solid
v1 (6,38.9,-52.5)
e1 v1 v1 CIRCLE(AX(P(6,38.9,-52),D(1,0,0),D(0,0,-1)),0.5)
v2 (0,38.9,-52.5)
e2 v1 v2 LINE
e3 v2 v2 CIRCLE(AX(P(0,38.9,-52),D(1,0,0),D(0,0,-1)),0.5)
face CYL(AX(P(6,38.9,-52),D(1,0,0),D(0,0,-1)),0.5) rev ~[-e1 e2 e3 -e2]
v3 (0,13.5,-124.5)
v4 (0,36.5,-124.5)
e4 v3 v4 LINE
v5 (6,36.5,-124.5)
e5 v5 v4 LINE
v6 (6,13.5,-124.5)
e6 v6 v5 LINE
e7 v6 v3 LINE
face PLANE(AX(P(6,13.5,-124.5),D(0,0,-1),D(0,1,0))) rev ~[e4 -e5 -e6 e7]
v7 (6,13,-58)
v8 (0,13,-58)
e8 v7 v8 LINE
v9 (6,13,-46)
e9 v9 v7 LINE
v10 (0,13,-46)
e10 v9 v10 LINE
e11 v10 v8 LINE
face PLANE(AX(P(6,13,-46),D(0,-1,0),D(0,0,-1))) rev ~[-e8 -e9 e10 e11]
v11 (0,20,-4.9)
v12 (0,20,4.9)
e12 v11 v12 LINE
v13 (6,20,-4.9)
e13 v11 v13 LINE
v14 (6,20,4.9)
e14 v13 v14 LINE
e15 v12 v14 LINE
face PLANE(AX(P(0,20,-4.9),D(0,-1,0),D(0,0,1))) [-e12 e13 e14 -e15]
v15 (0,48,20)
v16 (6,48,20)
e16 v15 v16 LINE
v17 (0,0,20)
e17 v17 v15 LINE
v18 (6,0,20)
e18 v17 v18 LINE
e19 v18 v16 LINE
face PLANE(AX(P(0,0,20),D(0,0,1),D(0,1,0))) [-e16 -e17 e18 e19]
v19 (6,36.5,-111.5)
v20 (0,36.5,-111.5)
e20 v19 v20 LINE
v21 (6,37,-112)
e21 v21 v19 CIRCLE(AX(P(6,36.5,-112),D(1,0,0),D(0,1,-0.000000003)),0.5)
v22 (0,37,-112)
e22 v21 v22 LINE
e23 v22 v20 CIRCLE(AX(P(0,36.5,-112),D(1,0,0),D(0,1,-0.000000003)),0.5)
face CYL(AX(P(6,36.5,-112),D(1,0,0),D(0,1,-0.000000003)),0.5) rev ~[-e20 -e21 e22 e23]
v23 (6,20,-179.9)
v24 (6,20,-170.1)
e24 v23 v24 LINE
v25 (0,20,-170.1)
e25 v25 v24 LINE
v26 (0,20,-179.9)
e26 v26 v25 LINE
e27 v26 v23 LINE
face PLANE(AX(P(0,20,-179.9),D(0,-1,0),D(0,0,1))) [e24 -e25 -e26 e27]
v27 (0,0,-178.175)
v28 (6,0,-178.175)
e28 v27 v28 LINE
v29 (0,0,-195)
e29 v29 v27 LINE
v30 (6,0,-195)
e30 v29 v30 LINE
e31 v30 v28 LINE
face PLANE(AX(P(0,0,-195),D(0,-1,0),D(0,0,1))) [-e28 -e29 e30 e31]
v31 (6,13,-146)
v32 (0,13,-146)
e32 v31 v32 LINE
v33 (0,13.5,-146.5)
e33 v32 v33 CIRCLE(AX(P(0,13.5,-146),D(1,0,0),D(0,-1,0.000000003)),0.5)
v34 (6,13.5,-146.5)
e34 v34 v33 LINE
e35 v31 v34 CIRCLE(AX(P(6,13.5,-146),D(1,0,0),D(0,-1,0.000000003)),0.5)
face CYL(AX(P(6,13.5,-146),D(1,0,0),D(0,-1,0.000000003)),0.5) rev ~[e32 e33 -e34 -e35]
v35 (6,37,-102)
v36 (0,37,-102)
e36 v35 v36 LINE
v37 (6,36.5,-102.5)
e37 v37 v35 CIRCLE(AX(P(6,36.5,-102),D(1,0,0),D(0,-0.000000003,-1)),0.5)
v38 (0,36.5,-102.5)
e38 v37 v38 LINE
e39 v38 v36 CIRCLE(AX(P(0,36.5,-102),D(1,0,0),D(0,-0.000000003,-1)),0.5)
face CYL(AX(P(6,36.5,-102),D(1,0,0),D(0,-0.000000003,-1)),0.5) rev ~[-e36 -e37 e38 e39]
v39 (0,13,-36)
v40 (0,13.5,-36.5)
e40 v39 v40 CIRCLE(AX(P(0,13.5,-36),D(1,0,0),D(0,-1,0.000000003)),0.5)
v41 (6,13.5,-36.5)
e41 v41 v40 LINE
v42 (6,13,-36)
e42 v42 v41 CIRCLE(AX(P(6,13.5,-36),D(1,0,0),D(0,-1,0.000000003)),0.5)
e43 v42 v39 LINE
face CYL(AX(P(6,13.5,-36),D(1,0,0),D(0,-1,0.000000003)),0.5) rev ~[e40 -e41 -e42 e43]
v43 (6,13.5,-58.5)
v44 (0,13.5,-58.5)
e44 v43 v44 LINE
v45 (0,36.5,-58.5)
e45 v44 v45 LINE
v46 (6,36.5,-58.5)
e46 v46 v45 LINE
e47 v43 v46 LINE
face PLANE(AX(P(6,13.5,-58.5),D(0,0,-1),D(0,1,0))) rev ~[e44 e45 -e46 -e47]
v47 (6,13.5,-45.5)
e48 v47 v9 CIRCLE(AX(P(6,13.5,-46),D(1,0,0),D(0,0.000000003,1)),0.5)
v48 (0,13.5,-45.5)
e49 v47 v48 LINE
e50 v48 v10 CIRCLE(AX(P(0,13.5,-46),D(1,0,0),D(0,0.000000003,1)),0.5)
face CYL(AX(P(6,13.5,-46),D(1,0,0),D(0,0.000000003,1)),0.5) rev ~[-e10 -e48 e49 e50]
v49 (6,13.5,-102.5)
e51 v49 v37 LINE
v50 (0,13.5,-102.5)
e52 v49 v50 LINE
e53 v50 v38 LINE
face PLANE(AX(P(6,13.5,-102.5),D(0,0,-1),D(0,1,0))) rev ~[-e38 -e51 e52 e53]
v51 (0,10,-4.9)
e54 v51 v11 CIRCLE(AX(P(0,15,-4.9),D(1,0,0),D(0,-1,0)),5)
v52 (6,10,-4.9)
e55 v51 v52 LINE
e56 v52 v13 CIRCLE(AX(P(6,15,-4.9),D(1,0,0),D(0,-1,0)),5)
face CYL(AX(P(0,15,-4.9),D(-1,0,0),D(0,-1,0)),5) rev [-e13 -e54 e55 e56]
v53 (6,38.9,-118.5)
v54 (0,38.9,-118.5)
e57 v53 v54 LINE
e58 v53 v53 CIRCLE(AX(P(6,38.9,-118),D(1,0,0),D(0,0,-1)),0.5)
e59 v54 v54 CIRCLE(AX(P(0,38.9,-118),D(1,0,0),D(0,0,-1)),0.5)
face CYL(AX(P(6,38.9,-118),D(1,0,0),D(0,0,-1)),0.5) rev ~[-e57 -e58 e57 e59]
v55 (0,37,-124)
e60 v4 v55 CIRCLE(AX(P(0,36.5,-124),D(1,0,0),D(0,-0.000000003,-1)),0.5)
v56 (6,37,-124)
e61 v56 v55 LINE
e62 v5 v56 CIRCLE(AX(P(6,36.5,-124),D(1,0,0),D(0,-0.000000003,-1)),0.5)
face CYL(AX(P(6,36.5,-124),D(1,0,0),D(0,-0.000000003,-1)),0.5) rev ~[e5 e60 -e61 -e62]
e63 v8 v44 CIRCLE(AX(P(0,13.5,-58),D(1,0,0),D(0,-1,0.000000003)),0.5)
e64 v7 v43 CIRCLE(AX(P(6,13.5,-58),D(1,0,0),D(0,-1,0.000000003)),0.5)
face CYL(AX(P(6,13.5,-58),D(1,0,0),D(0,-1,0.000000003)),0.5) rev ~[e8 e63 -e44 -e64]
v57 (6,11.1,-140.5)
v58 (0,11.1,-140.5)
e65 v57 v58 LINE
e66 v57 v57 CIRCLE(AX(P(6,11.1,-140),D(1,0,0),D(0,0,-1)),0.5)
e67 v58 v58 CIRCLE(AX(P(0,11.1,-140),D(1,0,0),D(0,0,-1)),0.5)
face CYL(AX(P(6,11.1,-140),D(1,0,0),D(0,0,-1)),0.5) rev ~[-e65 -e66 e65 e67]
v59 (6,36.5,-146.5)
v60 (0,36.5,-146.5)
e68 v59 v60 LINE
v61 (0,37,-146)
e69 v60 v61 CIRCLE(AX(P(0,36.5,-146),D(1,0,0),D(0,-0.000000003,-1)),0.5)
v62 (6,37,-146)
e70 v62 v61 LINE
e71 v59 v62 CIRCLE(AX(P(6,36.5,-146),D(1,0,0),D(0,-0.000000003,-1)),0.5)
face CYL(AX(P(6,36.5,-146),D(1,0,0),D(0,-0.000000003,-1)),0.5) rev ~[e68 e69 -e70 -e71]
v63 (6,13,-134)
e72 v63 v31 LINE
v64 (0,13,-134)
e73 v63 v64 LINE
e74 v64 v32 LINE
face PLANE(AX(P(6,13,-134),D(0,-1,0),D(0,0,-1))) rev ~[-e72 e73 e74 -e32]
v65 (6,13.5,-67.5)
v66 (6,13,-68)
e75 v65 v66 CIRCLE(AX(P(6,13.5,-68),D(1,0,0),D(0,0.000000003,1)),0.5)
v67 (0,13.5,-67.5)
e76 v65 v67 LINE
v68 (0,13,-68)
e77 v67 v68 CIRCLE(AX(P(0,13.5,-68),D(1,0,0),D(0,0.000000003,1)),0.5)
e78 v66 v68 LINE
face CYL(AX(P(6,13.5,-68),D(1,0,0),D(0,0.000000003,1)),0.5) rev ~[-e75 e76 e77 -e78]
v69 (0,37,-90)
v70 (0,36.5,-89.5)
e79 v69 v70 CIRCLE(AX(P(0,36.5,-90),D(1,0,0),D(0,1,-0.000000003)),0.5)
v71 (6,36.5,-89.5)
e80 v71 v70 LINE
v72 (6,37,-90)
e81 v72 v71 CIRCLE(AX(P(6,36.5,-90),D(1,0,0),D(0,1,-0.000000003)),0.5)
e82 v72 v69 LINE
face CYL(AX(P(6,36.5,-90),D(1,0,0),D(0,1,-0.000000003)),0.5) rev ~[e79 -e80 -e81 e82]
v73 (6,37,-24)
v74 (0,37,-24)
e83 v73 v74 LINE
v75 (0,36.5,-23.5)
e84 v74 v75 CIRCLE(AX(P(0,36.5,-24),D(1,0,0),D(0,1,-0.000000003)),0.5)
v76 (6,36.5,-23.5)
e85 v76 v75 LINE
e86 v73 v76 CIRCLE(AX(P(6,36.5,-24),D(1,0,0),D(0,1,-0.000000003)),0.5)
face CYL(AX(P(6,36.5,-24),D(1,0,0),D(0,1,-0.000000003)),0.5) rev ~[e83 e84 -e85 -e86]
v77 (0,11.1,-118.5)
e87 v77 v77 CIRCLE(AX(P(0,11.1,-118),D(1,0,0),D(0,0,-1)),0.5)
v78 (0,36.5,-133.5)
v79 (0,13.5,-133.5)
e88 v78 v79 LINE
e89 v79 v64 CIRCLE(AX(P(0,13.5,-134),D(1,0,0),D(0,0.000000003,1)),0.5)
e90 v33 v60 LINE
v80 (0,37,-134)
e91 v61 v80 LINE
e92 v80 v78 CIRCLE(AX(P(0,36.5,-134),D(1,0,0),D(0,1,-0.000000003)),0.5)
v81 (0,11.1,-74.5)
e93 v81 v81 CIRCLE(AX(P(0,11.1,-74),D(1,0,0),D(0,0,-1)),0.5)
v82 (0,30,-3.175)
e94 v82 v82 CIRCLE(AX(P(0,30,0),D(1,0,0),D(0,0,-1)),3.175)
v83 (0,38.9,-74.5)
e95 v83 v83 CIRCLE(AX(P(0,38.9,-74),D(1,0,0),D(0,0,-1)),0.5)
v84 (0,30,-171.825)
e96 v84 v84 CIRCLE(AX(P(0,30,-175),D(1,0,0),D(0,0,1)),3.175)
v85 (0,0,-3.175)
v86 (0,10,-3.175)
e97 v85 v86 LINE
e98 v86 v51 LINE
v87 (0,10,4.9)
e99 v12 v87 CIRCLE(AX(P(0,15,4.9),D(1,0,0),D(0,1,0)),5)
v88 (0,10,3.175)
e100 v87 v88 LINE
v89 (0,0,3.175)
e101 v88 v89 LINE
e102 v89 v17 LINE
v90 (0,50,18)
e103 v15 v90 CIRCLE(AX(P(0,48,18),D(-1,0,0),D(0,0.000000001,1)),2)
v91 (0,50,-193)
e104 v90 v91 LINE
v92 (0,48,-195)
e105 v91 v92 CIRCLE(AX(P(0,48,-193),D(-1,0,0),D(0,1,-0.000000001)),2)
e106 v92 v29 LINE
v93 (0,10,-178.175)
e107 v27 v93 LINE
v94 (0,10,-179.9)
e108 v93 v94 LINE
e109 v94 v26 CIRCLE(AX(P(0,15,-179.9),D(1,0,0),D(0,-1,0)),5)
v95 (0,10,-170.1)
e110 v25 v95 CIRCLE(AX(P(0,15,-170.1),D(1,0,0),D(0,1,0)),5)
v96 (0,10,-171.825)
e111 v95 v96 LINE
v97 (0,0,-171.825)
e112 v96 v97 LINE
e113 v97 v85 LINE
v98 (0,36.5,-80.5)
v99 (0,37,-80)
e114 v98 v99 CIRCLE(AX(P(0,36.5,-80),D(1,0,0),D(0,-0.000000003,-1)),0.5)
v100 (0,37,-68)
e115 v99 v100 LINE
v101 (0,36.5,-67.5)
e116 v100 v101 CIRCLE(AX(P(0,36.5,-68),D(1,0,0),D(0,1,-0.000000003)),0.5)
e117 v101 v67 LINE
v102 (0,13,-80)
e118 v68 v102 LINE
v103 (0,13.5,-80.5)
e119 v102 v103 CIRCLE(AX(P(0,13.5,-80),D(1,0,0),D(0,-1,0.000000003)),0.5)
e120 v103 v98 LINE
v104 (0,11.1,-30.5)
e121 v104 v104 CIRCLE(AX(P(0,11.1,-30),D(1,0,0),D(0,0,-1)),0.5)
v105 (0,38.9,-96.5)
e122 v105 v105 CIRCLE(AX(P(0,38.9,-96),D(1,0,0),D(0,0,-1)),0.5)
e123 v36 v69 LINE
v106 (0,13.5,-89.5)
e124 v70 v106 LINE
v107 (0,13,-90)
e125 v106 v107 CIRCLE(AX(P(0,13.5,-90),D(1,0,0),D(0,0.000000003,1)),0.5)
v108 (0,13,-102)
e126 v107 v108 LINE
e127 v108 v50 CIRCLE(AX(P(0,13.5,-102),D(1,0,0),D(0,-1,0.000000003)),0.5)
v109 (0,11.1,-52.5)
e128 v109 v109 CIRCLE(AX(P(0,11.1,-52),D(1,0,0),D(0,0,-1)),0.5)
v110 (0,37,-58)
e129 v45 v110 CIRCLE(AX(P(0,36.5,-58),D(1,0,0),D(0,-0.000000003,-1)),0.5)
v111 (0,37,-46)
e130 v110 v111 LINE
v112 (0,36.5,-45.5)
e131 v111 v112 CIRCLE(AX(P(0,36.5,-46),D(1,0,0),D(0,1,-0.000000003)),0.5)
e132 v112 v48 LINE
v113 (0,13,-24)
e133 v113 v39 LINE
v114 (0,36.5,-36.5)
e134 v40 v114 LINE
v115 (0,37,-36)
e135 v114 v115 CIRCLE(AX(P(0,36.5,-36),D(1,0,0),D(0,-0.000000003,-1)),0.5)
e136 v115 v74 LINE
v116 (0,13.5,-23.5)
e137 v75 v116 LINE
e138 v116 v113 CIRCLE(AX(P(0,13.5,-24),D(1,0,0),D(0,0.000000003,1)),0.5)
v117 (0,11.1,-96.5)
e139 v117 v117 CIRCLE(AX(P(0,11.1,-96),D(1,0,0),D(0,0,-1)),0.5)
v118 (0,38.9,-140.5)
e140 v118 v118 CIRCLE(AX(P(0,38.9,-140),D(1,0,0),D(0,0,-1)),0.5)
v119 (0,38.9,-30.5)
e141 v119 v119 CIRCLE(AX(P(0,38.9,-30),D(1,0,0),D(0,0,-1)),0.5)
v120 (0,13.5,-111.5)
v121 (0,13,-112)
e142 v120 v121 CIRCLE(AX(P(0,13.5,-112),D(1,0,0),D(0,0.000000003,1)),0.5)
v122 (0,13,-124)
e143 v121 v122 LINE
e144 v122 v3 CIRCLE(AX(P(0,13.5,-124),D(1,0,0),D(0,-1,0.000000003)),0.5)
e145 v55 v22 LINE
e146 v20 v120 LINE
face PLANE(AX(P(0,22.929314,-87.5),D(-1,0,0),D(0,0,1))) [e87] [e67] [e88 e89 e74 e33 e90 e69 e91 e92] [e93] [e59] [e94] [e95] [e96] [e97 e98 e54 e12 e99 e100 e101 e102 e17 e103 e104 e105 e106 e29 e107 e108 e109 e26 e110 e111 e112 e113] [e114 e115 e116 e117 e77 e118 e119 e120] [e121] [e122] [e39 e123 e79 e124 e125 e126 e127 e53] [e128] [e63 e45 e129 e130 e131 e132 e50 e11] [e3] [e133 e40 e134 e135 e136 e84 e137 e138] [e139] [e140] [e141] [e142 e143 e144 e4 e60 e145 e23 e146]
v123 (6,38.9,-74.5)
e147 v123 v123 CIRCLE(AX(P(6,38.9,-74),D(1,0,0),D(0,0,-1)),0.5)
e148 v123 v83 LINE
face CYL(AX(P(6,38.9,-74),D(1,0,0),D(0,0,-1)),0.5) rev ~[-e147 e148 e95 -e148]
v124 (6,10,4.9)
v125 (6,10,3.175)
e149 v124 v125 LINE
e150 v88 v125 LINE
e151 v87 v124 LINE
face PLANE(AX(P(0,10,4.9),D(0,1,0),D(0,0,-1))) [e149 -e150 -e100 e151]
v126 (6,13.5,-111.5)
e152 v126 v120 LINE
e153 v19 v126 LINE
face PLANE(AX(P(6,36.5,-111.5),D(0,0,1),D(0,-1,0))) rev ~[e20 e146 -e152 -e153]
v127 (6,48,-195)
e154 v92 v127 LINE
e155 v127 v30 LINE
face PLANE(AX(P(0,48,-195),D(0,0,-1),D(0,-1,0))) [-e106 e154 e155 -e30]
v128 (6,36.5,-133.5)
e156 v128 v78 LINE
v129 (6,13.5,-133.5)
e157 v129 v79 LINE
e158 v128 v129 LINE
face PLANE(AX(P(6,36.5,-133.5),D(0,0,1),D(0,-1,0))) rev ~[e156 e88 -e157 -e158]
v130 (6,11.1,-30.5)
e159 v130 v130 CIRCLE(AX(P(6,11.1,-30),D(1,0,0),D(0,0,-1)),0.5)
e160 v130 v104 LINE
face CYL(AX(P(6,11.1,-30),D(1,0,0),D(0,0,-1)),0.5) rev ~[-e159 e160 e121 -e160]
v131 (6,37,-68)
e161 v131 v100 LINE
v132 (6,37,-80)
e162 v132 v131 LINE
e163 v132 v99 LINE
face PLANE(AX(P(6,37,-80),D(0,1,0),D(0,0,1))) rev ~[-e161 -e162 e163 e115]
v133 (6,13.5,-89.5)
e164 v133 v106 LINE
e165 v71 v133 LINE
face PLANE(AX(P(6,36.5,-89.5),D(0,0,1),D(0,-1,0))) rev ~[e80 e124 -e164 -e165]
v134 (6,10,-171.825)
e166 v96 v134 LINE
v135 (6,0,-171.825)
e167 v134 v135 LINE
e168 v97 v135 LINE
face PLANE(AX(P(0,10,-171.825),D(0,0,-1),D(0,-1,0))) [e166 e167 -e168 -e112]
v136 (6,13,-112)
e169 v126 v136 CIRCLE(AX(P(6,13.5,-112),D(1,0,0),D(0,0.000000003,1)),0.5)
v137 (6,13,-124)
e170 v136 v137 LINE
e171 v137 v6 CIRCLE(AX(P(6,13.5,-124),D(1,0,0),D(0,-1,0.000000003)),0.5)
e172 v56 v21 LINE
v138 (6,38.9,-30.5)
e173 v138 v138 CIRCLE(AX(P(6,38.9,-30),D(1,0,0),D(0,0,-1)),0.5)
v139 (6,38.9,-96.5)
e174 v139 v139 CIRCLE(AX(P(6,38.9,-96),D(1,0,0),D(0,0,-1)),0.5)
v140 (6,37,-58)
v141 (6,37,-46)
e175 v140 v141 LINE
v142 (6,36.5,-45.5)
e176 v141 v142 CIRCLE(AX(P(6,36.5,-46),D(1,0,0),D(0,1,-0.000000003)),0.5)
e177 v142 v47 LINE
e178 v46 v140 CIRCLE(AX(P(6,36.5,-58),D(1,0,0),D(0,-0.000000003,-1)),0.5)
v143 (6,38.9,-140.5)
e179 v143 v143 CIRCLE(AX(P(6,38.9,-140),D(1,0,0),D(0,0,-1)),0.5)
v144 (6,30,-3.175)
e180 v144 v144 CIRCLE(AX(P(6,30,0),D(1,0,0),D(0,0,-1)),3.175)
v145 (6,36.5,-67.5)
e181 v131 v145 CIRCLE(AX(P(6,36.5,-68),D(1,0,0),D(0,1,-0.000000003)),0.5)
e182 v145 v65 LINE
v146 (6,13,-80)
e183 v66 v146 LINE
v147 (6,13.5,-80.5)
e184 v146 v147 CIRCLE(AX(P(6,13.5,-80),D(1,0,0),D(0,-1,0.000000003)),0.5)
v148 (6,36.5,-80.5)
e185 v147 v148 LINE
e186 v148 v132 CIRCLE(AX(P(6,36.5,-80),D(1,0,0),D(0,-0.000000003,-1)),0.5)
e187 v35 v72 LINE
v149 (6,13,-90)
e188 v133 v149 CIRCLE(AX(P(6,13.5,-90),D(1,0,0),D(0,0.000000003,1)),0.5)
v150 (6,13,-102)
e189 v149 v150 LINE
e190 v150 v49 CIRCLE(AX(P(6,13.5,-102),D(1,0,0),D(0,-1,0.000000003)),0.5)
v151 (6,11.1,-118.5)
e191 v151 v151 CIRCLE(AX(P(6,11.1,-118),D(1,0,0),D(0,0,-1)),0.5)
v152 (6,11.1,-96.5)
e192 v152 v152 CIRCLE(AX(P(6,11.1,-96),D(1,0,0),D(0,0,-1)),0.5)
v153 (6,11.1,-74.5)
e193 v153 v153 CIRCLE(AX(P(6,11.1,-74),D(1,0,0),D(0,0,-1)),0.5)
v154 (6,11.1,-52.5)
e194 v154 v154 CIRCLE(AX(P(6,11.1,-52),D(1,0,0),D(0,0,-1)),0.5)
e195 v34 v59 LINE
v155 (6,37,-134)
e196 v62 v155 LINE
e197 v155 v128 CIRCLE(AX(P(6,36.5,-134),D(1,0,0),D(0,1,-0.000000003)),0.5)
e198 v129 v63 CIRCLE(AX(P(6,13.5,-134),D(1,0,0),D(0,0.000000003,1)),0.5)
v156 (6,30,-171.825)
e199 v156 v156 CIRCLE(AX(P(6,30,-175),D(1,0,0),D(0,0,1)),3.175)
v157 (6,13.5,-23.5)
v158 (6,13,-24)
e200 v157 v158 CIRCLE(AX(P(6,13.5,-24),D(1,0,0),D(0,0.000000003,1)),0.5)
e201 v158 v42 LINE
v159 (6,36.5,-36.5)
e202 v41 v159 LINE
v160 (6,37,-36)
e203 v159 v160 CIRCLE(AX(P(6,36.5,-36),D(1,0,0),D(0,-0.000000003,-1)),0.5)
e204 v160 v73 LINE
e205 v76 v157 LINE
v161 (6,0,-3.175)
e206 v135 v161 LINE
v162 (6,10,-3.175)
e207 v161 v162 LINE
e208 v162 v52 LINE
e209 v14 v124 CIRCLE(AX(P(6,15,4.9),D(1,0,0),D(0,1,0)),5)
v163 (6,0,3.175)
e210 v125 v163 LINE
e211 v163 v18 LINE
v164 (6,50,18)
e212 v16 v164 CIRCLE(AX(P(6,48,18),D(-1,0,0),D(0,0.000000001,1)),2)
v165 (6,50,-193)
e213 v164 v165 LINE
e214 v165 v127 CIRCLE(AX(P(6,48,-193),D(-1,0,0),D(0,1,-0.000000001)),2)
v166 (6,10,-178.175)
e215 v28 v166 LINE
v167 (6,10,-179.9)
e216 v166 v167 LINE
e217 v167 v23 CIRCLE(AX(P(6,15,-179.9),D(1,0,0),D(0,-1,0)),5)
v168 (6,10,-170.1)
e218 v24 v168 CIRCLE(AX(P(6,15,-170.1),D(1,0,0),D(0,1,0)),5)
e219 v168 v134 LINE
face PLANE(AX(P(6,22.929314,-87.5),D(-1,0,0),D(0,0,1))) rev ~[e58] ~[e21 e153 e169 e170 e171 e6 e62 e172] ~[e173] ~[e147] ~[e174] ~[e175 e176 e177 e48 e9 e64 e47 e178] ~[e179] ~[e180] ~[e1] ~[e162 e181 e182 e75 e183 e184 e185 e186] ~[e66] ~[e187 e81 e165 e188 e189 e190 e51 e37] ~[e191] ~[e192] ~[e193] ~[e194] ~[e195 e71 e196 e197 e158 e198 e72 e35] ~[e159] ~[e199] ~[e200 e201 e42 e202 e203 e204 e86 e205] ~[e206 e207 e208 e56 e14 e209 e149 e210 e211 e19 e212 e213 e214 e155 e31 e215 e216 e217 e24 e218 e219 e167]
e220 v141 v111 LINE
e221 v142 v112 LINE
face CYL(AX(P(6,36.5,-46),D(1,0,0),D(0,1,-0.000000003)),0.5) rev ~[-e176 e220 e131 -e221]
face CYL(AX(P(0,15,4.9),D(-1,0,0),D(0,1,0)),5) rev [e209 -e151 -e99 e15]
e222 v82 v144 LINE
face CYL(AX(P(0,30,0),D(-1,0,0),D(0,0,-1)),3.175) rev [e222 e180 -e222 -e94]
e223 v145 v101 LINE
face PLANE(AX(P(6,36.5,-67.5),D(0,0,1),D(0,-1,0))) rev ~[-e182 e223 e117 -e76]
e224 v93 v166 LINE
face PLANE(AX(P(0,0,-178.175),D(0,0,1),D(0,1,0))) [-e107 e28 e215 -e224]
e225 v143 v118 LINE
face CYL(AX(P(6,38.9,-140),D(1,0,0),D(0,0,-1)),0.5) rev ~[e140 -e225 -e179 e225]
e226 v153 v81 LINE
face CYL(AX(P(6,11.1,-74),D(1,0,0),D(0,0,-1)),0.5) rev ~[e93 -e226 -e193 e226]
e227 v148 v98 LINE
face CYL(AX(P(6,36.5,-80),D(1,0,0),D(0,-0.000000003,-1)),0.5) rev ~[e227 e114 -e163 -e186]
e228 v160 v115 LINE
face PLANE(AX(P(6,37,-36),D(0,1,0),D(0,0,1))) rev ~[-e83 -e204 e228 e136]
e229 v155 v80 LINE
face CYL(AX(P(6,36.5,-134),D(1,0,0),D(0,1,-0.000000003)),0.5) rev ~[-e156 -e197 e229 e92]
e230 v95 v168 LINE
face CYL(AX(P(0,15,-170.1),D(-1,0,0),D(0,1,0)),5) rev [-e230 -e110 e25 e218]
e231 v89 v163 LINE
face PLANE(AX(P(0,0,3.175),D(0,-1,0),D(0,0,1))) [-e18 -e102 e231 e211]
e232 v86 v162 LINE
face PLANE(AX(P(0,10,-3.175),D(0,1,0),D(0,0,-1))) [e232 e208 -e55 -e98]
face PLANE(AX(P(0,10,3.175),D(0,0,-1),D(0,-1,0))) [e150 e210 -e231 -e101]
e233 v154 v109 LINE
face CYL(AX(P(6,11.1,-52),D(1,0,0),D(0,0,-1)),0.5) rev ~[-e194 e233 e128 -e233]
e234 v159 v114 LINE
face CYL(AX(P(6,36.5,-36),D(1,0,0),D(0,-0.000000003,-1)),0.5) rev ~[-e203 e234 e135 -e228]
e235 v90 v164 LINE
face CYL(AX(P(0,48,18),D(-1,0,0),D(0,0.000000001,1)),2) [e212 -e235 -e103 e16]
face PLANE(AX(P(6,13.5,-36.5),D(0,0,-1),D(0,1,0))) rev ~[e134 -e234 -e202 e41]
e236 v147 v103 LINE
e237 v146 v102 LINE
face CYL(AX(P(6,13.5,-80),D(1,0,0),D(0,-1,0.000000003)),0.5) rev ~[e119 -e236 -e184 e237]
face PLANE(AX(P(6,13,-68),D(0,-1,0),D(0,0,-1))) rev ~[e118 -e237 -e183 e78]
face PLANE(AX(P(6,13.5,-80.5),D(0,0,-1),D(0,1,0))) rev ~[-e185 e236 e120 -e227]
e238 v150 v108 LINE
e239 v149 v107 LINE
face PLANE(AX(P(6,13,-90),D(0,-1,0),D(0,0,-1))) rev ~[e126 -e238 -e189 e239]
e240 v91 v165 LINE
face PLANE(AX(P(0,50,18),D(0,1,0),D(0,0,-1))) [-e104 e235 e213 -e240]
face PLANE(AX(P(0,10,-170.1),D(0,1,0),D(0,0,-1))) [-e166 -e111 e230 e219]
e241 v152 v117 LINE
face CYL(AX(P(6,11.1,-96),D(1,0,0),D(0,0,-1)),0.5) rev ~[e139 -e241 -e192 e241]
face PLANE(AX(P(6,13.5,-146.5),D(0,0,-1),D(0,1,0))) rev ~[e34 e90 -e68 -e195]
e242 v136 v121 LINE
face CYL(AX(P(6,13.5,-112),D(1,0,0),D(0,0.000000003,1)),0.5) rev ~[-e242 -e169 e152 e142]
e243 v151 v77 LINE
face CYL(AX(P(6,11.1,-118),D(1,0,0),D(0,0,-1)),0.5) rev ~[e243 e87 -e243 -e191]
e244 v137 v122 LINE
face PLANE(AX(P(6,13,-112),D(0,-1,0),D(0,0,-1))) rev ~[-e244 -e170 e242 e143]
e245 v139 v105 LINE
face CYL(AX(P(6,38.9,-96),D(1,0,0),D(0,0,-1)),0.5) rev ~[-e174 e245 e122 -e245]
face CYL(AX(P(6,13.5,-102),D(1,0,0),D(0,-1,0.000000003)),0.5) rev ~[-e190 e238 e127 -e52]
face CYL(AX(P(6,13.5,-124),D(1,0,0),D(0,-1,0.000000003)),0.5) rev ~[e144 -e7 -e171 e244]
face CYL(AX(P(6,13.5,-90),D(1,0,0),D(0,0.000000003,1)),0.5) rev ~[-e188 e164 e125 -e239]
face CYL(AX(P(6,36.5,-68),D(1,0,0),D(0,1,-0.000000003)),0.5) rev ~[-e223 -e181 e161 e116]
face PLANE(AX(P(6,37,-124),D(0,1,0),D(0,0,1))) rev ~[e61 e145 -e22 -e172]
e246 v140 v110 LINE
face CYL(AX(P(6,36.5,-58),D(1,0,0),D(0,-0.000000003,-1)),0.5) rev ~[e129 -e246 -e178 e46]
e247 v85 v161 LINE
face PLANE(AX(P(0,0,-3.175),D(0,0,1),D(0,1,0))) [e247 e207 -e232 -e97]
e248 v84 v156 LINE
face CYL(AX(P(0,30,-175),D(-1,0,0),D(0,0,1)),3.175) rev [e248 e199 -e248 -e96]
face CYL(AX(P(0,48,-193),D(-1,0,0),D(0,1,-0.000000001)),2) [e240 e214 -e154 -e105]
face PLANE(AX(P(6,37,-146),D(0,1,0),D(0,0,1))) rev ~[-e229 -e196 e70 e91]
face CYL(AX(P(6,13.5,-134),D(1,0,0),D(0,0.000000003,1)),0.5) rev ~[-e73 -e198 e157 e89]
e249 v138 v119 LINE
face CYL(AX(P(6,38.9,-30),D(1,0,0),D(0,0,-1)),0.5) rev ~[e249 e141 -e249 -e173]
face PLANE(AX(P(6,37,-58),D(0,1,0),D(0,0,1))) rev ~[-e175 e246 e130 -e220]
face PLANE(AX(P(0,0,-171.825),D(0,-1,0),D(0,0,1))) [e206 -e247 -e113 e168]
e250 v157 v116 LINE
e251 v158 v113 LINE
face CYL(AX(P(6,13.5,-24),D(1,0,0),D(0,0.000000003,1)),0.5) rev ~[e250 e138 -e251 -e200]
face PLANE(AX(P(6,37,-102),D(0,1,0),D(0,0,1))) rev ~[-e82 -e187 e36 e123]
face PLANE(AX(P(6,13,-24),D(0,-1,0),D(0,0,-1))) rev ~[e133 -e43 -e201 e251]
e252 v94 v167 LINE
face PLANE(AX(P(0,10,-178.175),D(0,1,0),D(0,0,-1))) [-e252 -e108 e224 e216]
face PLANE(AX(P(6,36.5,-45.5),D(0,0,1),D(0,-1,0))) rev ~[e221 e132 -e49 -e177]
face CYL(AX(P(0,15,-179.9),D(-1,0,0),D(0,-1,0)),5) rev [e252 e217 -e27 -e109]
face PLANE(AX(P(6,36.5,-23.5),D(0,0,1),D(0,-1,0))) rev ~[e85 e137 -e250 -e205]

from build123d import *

# Parameters (mm, degrees)
SKETCH1_R           = 3.175
BOSS_EXTRUDE1_DEPTH = 6
SERVO_MOUNT_REACH   = 203.398
SKETCH2_R           = 0.5
LPATTERN1_COUNT     = 6
LPATTERN1_PITCH     = 22


with BuildPart() as part:
    # Sketch1 → Boss-Extrude1 (new body)
    with BuildSketch(Plane(origin=(0, 0, 0), x_dir=(0, 0, -1), z_dir=(1, 0, 0))):
        with BuildLine():
            Line((-3.175, 0), (-20, 0))
            Line((-20, 0), (-20, 48))
            ThreePointArc((-20, 48), (-19.414213562, 49.414213562), (-18, 50))
            Line((-18, 50), (193, 50))
            ThreePointArc((193, 50), (194.414213562, 49.414213562), (195, 48))
            Line((195, 48), (195, 0))
            Line((195, 0), (178.175, 0))
            Line((178.175, 0), (178.175, 10))
            Line((178.175, 10), (179.9, 10))
            ThreePointArc((179.9, 10), (184.9, 15), (179.9, 20))
            Line((179.9, 20), (170.1, 20))
            ThreePointArc((170.1, 20), (165.1, 15), (170.1, 10))
            Line((170.1, 10), (171.825, 10))
            Line((171.825, 10), (171.825, 0))
            Line((171.825, 0), (3.175, 0))
            Line((3.175, 0), (3.175, 10))
            Line((3.175, 10), (4.9, 10))
            ThreePointArc((4.9, 10), (9.9, 15), (4.9, 20))
            Line((4.9, 20), (-4.9, 20))
            ThreePointArc((-4.9, 20), (-9.9, 15), (-4.9, 10))
            Line((-4.9, 10), (-3.175, 10))
            Line((-3.175, 10), (-3.175, 0))
        make_face()
        with Locations(Location((175, 30, 0), (0, 0, 180))):
            Circle(SKETCH1_R, mode=Mode.SUBTRACT)
        with Locations((0, 30)):
            Circle(SKETCH1_R, mode=Mode.SUBTRACT)
    extrude(amount=BOSS_EXTRUDE1_DEPTH)

    # Sketch2 → servo mount (cut, up to next)
    with BuildSketch(Plane(origin=(6, 0, 0), x_dir=(0, 0, -1), z_dir=(1, 0, 0)), mode=Mode.PRIVATE) as servo_mount_sk1:
        with Locations((30, 38.9)):
            Circle(SKETCH2_R)
    servo_mount_tool1 = extrude(servo_mount_sk1.sketch, amount=-SERVO_MOUNT_REACH, mode=Mode.PRIVATE) & part.part
    # Sketch2 → servo mount (cut, up to next)
    with BuildSketch(Plane(origin=(6, 0, 0), x_dir=(0, 0, -1), z_dir=(1, 0, 0)), mode=Mode.PRIVATE) as servo_mount_sk2:
        with Locations((30, 11.1)):
            Circle(SKETCH2_R)
    servo_mount_tool2 = extrude(servo_mount_sk2.sketch, amount=-SERVO_MOUNT_REACH, mode=Mode.PRIVATE) & part.part
    # Sketch2 → servo mount (cut, up to next)
    with BuildSketch(Plane(origin=(6, 0, 0), x_dir=(0, 0, -1), z_dir=(1, 0, 0)), mode=Mode.PRIVATE) as servo_mount_sk3:
        with BuildLine():
            Line((24, 13), (36, 13))
            ThreePointArc((36, 13), (36.353553391, 13.146446609), (36.5, 13.5))
            Line((36.5, 13.5), (36.5, 36.5))
            ThreePointArc((36.5, 36.5), (36.353553391, 36.853553391), (36, 37))
            Line((36, 37), (24, 37))
            ThreePointArc((24, 37), (23.646446609, 36.853553391), (23.5, 36.5))
            Line((23.5, 36.5), (23.5, 13.5))
            ThreePointArc((23.5, 13.5), (23.646446609, 13.146446609), (24, 13))
        make_face()
    servo_mount_tool3 = extrude(servo_mount_sk3.sketch, amount=-SERVO_MOUNT_REACH, mode=Mode.PRIVATE) & part.part
    servo_mount_1 = servo_mount_tool1.solids().sort_by_distance((6, 38.9, -30))[0]
    add(servo_mount_1, mode=Mode.SUBTRACT)
    servo_mount_2 = servo_mount_tool2.solids().sort_by_distance((6, 11.1, -30))[0]
    add(servo_mount_2, mode=Mode.SUBTRACT)
    servo_mount_3 = servo_mount_tool3.solids().sort_by_distance((6, 25, -30))[0]
    add(servo_mount_3, mode=Mode.SUBTRACT)
    servo_mount = servo_mount_1 + servo_mount_2 + servo_mount_3  # servo mount as one shape, for the pattern or mirror that repeats it

    # LPattern1: servo mount ×6
    with Locations(*[(0, 0, -i * LPATTERN1_PITCH) for i in range(1, LPATTERN1_COUNT)]):
        add(servo_mount, mode=Mode.SUBTRACT)


solid = part.part
